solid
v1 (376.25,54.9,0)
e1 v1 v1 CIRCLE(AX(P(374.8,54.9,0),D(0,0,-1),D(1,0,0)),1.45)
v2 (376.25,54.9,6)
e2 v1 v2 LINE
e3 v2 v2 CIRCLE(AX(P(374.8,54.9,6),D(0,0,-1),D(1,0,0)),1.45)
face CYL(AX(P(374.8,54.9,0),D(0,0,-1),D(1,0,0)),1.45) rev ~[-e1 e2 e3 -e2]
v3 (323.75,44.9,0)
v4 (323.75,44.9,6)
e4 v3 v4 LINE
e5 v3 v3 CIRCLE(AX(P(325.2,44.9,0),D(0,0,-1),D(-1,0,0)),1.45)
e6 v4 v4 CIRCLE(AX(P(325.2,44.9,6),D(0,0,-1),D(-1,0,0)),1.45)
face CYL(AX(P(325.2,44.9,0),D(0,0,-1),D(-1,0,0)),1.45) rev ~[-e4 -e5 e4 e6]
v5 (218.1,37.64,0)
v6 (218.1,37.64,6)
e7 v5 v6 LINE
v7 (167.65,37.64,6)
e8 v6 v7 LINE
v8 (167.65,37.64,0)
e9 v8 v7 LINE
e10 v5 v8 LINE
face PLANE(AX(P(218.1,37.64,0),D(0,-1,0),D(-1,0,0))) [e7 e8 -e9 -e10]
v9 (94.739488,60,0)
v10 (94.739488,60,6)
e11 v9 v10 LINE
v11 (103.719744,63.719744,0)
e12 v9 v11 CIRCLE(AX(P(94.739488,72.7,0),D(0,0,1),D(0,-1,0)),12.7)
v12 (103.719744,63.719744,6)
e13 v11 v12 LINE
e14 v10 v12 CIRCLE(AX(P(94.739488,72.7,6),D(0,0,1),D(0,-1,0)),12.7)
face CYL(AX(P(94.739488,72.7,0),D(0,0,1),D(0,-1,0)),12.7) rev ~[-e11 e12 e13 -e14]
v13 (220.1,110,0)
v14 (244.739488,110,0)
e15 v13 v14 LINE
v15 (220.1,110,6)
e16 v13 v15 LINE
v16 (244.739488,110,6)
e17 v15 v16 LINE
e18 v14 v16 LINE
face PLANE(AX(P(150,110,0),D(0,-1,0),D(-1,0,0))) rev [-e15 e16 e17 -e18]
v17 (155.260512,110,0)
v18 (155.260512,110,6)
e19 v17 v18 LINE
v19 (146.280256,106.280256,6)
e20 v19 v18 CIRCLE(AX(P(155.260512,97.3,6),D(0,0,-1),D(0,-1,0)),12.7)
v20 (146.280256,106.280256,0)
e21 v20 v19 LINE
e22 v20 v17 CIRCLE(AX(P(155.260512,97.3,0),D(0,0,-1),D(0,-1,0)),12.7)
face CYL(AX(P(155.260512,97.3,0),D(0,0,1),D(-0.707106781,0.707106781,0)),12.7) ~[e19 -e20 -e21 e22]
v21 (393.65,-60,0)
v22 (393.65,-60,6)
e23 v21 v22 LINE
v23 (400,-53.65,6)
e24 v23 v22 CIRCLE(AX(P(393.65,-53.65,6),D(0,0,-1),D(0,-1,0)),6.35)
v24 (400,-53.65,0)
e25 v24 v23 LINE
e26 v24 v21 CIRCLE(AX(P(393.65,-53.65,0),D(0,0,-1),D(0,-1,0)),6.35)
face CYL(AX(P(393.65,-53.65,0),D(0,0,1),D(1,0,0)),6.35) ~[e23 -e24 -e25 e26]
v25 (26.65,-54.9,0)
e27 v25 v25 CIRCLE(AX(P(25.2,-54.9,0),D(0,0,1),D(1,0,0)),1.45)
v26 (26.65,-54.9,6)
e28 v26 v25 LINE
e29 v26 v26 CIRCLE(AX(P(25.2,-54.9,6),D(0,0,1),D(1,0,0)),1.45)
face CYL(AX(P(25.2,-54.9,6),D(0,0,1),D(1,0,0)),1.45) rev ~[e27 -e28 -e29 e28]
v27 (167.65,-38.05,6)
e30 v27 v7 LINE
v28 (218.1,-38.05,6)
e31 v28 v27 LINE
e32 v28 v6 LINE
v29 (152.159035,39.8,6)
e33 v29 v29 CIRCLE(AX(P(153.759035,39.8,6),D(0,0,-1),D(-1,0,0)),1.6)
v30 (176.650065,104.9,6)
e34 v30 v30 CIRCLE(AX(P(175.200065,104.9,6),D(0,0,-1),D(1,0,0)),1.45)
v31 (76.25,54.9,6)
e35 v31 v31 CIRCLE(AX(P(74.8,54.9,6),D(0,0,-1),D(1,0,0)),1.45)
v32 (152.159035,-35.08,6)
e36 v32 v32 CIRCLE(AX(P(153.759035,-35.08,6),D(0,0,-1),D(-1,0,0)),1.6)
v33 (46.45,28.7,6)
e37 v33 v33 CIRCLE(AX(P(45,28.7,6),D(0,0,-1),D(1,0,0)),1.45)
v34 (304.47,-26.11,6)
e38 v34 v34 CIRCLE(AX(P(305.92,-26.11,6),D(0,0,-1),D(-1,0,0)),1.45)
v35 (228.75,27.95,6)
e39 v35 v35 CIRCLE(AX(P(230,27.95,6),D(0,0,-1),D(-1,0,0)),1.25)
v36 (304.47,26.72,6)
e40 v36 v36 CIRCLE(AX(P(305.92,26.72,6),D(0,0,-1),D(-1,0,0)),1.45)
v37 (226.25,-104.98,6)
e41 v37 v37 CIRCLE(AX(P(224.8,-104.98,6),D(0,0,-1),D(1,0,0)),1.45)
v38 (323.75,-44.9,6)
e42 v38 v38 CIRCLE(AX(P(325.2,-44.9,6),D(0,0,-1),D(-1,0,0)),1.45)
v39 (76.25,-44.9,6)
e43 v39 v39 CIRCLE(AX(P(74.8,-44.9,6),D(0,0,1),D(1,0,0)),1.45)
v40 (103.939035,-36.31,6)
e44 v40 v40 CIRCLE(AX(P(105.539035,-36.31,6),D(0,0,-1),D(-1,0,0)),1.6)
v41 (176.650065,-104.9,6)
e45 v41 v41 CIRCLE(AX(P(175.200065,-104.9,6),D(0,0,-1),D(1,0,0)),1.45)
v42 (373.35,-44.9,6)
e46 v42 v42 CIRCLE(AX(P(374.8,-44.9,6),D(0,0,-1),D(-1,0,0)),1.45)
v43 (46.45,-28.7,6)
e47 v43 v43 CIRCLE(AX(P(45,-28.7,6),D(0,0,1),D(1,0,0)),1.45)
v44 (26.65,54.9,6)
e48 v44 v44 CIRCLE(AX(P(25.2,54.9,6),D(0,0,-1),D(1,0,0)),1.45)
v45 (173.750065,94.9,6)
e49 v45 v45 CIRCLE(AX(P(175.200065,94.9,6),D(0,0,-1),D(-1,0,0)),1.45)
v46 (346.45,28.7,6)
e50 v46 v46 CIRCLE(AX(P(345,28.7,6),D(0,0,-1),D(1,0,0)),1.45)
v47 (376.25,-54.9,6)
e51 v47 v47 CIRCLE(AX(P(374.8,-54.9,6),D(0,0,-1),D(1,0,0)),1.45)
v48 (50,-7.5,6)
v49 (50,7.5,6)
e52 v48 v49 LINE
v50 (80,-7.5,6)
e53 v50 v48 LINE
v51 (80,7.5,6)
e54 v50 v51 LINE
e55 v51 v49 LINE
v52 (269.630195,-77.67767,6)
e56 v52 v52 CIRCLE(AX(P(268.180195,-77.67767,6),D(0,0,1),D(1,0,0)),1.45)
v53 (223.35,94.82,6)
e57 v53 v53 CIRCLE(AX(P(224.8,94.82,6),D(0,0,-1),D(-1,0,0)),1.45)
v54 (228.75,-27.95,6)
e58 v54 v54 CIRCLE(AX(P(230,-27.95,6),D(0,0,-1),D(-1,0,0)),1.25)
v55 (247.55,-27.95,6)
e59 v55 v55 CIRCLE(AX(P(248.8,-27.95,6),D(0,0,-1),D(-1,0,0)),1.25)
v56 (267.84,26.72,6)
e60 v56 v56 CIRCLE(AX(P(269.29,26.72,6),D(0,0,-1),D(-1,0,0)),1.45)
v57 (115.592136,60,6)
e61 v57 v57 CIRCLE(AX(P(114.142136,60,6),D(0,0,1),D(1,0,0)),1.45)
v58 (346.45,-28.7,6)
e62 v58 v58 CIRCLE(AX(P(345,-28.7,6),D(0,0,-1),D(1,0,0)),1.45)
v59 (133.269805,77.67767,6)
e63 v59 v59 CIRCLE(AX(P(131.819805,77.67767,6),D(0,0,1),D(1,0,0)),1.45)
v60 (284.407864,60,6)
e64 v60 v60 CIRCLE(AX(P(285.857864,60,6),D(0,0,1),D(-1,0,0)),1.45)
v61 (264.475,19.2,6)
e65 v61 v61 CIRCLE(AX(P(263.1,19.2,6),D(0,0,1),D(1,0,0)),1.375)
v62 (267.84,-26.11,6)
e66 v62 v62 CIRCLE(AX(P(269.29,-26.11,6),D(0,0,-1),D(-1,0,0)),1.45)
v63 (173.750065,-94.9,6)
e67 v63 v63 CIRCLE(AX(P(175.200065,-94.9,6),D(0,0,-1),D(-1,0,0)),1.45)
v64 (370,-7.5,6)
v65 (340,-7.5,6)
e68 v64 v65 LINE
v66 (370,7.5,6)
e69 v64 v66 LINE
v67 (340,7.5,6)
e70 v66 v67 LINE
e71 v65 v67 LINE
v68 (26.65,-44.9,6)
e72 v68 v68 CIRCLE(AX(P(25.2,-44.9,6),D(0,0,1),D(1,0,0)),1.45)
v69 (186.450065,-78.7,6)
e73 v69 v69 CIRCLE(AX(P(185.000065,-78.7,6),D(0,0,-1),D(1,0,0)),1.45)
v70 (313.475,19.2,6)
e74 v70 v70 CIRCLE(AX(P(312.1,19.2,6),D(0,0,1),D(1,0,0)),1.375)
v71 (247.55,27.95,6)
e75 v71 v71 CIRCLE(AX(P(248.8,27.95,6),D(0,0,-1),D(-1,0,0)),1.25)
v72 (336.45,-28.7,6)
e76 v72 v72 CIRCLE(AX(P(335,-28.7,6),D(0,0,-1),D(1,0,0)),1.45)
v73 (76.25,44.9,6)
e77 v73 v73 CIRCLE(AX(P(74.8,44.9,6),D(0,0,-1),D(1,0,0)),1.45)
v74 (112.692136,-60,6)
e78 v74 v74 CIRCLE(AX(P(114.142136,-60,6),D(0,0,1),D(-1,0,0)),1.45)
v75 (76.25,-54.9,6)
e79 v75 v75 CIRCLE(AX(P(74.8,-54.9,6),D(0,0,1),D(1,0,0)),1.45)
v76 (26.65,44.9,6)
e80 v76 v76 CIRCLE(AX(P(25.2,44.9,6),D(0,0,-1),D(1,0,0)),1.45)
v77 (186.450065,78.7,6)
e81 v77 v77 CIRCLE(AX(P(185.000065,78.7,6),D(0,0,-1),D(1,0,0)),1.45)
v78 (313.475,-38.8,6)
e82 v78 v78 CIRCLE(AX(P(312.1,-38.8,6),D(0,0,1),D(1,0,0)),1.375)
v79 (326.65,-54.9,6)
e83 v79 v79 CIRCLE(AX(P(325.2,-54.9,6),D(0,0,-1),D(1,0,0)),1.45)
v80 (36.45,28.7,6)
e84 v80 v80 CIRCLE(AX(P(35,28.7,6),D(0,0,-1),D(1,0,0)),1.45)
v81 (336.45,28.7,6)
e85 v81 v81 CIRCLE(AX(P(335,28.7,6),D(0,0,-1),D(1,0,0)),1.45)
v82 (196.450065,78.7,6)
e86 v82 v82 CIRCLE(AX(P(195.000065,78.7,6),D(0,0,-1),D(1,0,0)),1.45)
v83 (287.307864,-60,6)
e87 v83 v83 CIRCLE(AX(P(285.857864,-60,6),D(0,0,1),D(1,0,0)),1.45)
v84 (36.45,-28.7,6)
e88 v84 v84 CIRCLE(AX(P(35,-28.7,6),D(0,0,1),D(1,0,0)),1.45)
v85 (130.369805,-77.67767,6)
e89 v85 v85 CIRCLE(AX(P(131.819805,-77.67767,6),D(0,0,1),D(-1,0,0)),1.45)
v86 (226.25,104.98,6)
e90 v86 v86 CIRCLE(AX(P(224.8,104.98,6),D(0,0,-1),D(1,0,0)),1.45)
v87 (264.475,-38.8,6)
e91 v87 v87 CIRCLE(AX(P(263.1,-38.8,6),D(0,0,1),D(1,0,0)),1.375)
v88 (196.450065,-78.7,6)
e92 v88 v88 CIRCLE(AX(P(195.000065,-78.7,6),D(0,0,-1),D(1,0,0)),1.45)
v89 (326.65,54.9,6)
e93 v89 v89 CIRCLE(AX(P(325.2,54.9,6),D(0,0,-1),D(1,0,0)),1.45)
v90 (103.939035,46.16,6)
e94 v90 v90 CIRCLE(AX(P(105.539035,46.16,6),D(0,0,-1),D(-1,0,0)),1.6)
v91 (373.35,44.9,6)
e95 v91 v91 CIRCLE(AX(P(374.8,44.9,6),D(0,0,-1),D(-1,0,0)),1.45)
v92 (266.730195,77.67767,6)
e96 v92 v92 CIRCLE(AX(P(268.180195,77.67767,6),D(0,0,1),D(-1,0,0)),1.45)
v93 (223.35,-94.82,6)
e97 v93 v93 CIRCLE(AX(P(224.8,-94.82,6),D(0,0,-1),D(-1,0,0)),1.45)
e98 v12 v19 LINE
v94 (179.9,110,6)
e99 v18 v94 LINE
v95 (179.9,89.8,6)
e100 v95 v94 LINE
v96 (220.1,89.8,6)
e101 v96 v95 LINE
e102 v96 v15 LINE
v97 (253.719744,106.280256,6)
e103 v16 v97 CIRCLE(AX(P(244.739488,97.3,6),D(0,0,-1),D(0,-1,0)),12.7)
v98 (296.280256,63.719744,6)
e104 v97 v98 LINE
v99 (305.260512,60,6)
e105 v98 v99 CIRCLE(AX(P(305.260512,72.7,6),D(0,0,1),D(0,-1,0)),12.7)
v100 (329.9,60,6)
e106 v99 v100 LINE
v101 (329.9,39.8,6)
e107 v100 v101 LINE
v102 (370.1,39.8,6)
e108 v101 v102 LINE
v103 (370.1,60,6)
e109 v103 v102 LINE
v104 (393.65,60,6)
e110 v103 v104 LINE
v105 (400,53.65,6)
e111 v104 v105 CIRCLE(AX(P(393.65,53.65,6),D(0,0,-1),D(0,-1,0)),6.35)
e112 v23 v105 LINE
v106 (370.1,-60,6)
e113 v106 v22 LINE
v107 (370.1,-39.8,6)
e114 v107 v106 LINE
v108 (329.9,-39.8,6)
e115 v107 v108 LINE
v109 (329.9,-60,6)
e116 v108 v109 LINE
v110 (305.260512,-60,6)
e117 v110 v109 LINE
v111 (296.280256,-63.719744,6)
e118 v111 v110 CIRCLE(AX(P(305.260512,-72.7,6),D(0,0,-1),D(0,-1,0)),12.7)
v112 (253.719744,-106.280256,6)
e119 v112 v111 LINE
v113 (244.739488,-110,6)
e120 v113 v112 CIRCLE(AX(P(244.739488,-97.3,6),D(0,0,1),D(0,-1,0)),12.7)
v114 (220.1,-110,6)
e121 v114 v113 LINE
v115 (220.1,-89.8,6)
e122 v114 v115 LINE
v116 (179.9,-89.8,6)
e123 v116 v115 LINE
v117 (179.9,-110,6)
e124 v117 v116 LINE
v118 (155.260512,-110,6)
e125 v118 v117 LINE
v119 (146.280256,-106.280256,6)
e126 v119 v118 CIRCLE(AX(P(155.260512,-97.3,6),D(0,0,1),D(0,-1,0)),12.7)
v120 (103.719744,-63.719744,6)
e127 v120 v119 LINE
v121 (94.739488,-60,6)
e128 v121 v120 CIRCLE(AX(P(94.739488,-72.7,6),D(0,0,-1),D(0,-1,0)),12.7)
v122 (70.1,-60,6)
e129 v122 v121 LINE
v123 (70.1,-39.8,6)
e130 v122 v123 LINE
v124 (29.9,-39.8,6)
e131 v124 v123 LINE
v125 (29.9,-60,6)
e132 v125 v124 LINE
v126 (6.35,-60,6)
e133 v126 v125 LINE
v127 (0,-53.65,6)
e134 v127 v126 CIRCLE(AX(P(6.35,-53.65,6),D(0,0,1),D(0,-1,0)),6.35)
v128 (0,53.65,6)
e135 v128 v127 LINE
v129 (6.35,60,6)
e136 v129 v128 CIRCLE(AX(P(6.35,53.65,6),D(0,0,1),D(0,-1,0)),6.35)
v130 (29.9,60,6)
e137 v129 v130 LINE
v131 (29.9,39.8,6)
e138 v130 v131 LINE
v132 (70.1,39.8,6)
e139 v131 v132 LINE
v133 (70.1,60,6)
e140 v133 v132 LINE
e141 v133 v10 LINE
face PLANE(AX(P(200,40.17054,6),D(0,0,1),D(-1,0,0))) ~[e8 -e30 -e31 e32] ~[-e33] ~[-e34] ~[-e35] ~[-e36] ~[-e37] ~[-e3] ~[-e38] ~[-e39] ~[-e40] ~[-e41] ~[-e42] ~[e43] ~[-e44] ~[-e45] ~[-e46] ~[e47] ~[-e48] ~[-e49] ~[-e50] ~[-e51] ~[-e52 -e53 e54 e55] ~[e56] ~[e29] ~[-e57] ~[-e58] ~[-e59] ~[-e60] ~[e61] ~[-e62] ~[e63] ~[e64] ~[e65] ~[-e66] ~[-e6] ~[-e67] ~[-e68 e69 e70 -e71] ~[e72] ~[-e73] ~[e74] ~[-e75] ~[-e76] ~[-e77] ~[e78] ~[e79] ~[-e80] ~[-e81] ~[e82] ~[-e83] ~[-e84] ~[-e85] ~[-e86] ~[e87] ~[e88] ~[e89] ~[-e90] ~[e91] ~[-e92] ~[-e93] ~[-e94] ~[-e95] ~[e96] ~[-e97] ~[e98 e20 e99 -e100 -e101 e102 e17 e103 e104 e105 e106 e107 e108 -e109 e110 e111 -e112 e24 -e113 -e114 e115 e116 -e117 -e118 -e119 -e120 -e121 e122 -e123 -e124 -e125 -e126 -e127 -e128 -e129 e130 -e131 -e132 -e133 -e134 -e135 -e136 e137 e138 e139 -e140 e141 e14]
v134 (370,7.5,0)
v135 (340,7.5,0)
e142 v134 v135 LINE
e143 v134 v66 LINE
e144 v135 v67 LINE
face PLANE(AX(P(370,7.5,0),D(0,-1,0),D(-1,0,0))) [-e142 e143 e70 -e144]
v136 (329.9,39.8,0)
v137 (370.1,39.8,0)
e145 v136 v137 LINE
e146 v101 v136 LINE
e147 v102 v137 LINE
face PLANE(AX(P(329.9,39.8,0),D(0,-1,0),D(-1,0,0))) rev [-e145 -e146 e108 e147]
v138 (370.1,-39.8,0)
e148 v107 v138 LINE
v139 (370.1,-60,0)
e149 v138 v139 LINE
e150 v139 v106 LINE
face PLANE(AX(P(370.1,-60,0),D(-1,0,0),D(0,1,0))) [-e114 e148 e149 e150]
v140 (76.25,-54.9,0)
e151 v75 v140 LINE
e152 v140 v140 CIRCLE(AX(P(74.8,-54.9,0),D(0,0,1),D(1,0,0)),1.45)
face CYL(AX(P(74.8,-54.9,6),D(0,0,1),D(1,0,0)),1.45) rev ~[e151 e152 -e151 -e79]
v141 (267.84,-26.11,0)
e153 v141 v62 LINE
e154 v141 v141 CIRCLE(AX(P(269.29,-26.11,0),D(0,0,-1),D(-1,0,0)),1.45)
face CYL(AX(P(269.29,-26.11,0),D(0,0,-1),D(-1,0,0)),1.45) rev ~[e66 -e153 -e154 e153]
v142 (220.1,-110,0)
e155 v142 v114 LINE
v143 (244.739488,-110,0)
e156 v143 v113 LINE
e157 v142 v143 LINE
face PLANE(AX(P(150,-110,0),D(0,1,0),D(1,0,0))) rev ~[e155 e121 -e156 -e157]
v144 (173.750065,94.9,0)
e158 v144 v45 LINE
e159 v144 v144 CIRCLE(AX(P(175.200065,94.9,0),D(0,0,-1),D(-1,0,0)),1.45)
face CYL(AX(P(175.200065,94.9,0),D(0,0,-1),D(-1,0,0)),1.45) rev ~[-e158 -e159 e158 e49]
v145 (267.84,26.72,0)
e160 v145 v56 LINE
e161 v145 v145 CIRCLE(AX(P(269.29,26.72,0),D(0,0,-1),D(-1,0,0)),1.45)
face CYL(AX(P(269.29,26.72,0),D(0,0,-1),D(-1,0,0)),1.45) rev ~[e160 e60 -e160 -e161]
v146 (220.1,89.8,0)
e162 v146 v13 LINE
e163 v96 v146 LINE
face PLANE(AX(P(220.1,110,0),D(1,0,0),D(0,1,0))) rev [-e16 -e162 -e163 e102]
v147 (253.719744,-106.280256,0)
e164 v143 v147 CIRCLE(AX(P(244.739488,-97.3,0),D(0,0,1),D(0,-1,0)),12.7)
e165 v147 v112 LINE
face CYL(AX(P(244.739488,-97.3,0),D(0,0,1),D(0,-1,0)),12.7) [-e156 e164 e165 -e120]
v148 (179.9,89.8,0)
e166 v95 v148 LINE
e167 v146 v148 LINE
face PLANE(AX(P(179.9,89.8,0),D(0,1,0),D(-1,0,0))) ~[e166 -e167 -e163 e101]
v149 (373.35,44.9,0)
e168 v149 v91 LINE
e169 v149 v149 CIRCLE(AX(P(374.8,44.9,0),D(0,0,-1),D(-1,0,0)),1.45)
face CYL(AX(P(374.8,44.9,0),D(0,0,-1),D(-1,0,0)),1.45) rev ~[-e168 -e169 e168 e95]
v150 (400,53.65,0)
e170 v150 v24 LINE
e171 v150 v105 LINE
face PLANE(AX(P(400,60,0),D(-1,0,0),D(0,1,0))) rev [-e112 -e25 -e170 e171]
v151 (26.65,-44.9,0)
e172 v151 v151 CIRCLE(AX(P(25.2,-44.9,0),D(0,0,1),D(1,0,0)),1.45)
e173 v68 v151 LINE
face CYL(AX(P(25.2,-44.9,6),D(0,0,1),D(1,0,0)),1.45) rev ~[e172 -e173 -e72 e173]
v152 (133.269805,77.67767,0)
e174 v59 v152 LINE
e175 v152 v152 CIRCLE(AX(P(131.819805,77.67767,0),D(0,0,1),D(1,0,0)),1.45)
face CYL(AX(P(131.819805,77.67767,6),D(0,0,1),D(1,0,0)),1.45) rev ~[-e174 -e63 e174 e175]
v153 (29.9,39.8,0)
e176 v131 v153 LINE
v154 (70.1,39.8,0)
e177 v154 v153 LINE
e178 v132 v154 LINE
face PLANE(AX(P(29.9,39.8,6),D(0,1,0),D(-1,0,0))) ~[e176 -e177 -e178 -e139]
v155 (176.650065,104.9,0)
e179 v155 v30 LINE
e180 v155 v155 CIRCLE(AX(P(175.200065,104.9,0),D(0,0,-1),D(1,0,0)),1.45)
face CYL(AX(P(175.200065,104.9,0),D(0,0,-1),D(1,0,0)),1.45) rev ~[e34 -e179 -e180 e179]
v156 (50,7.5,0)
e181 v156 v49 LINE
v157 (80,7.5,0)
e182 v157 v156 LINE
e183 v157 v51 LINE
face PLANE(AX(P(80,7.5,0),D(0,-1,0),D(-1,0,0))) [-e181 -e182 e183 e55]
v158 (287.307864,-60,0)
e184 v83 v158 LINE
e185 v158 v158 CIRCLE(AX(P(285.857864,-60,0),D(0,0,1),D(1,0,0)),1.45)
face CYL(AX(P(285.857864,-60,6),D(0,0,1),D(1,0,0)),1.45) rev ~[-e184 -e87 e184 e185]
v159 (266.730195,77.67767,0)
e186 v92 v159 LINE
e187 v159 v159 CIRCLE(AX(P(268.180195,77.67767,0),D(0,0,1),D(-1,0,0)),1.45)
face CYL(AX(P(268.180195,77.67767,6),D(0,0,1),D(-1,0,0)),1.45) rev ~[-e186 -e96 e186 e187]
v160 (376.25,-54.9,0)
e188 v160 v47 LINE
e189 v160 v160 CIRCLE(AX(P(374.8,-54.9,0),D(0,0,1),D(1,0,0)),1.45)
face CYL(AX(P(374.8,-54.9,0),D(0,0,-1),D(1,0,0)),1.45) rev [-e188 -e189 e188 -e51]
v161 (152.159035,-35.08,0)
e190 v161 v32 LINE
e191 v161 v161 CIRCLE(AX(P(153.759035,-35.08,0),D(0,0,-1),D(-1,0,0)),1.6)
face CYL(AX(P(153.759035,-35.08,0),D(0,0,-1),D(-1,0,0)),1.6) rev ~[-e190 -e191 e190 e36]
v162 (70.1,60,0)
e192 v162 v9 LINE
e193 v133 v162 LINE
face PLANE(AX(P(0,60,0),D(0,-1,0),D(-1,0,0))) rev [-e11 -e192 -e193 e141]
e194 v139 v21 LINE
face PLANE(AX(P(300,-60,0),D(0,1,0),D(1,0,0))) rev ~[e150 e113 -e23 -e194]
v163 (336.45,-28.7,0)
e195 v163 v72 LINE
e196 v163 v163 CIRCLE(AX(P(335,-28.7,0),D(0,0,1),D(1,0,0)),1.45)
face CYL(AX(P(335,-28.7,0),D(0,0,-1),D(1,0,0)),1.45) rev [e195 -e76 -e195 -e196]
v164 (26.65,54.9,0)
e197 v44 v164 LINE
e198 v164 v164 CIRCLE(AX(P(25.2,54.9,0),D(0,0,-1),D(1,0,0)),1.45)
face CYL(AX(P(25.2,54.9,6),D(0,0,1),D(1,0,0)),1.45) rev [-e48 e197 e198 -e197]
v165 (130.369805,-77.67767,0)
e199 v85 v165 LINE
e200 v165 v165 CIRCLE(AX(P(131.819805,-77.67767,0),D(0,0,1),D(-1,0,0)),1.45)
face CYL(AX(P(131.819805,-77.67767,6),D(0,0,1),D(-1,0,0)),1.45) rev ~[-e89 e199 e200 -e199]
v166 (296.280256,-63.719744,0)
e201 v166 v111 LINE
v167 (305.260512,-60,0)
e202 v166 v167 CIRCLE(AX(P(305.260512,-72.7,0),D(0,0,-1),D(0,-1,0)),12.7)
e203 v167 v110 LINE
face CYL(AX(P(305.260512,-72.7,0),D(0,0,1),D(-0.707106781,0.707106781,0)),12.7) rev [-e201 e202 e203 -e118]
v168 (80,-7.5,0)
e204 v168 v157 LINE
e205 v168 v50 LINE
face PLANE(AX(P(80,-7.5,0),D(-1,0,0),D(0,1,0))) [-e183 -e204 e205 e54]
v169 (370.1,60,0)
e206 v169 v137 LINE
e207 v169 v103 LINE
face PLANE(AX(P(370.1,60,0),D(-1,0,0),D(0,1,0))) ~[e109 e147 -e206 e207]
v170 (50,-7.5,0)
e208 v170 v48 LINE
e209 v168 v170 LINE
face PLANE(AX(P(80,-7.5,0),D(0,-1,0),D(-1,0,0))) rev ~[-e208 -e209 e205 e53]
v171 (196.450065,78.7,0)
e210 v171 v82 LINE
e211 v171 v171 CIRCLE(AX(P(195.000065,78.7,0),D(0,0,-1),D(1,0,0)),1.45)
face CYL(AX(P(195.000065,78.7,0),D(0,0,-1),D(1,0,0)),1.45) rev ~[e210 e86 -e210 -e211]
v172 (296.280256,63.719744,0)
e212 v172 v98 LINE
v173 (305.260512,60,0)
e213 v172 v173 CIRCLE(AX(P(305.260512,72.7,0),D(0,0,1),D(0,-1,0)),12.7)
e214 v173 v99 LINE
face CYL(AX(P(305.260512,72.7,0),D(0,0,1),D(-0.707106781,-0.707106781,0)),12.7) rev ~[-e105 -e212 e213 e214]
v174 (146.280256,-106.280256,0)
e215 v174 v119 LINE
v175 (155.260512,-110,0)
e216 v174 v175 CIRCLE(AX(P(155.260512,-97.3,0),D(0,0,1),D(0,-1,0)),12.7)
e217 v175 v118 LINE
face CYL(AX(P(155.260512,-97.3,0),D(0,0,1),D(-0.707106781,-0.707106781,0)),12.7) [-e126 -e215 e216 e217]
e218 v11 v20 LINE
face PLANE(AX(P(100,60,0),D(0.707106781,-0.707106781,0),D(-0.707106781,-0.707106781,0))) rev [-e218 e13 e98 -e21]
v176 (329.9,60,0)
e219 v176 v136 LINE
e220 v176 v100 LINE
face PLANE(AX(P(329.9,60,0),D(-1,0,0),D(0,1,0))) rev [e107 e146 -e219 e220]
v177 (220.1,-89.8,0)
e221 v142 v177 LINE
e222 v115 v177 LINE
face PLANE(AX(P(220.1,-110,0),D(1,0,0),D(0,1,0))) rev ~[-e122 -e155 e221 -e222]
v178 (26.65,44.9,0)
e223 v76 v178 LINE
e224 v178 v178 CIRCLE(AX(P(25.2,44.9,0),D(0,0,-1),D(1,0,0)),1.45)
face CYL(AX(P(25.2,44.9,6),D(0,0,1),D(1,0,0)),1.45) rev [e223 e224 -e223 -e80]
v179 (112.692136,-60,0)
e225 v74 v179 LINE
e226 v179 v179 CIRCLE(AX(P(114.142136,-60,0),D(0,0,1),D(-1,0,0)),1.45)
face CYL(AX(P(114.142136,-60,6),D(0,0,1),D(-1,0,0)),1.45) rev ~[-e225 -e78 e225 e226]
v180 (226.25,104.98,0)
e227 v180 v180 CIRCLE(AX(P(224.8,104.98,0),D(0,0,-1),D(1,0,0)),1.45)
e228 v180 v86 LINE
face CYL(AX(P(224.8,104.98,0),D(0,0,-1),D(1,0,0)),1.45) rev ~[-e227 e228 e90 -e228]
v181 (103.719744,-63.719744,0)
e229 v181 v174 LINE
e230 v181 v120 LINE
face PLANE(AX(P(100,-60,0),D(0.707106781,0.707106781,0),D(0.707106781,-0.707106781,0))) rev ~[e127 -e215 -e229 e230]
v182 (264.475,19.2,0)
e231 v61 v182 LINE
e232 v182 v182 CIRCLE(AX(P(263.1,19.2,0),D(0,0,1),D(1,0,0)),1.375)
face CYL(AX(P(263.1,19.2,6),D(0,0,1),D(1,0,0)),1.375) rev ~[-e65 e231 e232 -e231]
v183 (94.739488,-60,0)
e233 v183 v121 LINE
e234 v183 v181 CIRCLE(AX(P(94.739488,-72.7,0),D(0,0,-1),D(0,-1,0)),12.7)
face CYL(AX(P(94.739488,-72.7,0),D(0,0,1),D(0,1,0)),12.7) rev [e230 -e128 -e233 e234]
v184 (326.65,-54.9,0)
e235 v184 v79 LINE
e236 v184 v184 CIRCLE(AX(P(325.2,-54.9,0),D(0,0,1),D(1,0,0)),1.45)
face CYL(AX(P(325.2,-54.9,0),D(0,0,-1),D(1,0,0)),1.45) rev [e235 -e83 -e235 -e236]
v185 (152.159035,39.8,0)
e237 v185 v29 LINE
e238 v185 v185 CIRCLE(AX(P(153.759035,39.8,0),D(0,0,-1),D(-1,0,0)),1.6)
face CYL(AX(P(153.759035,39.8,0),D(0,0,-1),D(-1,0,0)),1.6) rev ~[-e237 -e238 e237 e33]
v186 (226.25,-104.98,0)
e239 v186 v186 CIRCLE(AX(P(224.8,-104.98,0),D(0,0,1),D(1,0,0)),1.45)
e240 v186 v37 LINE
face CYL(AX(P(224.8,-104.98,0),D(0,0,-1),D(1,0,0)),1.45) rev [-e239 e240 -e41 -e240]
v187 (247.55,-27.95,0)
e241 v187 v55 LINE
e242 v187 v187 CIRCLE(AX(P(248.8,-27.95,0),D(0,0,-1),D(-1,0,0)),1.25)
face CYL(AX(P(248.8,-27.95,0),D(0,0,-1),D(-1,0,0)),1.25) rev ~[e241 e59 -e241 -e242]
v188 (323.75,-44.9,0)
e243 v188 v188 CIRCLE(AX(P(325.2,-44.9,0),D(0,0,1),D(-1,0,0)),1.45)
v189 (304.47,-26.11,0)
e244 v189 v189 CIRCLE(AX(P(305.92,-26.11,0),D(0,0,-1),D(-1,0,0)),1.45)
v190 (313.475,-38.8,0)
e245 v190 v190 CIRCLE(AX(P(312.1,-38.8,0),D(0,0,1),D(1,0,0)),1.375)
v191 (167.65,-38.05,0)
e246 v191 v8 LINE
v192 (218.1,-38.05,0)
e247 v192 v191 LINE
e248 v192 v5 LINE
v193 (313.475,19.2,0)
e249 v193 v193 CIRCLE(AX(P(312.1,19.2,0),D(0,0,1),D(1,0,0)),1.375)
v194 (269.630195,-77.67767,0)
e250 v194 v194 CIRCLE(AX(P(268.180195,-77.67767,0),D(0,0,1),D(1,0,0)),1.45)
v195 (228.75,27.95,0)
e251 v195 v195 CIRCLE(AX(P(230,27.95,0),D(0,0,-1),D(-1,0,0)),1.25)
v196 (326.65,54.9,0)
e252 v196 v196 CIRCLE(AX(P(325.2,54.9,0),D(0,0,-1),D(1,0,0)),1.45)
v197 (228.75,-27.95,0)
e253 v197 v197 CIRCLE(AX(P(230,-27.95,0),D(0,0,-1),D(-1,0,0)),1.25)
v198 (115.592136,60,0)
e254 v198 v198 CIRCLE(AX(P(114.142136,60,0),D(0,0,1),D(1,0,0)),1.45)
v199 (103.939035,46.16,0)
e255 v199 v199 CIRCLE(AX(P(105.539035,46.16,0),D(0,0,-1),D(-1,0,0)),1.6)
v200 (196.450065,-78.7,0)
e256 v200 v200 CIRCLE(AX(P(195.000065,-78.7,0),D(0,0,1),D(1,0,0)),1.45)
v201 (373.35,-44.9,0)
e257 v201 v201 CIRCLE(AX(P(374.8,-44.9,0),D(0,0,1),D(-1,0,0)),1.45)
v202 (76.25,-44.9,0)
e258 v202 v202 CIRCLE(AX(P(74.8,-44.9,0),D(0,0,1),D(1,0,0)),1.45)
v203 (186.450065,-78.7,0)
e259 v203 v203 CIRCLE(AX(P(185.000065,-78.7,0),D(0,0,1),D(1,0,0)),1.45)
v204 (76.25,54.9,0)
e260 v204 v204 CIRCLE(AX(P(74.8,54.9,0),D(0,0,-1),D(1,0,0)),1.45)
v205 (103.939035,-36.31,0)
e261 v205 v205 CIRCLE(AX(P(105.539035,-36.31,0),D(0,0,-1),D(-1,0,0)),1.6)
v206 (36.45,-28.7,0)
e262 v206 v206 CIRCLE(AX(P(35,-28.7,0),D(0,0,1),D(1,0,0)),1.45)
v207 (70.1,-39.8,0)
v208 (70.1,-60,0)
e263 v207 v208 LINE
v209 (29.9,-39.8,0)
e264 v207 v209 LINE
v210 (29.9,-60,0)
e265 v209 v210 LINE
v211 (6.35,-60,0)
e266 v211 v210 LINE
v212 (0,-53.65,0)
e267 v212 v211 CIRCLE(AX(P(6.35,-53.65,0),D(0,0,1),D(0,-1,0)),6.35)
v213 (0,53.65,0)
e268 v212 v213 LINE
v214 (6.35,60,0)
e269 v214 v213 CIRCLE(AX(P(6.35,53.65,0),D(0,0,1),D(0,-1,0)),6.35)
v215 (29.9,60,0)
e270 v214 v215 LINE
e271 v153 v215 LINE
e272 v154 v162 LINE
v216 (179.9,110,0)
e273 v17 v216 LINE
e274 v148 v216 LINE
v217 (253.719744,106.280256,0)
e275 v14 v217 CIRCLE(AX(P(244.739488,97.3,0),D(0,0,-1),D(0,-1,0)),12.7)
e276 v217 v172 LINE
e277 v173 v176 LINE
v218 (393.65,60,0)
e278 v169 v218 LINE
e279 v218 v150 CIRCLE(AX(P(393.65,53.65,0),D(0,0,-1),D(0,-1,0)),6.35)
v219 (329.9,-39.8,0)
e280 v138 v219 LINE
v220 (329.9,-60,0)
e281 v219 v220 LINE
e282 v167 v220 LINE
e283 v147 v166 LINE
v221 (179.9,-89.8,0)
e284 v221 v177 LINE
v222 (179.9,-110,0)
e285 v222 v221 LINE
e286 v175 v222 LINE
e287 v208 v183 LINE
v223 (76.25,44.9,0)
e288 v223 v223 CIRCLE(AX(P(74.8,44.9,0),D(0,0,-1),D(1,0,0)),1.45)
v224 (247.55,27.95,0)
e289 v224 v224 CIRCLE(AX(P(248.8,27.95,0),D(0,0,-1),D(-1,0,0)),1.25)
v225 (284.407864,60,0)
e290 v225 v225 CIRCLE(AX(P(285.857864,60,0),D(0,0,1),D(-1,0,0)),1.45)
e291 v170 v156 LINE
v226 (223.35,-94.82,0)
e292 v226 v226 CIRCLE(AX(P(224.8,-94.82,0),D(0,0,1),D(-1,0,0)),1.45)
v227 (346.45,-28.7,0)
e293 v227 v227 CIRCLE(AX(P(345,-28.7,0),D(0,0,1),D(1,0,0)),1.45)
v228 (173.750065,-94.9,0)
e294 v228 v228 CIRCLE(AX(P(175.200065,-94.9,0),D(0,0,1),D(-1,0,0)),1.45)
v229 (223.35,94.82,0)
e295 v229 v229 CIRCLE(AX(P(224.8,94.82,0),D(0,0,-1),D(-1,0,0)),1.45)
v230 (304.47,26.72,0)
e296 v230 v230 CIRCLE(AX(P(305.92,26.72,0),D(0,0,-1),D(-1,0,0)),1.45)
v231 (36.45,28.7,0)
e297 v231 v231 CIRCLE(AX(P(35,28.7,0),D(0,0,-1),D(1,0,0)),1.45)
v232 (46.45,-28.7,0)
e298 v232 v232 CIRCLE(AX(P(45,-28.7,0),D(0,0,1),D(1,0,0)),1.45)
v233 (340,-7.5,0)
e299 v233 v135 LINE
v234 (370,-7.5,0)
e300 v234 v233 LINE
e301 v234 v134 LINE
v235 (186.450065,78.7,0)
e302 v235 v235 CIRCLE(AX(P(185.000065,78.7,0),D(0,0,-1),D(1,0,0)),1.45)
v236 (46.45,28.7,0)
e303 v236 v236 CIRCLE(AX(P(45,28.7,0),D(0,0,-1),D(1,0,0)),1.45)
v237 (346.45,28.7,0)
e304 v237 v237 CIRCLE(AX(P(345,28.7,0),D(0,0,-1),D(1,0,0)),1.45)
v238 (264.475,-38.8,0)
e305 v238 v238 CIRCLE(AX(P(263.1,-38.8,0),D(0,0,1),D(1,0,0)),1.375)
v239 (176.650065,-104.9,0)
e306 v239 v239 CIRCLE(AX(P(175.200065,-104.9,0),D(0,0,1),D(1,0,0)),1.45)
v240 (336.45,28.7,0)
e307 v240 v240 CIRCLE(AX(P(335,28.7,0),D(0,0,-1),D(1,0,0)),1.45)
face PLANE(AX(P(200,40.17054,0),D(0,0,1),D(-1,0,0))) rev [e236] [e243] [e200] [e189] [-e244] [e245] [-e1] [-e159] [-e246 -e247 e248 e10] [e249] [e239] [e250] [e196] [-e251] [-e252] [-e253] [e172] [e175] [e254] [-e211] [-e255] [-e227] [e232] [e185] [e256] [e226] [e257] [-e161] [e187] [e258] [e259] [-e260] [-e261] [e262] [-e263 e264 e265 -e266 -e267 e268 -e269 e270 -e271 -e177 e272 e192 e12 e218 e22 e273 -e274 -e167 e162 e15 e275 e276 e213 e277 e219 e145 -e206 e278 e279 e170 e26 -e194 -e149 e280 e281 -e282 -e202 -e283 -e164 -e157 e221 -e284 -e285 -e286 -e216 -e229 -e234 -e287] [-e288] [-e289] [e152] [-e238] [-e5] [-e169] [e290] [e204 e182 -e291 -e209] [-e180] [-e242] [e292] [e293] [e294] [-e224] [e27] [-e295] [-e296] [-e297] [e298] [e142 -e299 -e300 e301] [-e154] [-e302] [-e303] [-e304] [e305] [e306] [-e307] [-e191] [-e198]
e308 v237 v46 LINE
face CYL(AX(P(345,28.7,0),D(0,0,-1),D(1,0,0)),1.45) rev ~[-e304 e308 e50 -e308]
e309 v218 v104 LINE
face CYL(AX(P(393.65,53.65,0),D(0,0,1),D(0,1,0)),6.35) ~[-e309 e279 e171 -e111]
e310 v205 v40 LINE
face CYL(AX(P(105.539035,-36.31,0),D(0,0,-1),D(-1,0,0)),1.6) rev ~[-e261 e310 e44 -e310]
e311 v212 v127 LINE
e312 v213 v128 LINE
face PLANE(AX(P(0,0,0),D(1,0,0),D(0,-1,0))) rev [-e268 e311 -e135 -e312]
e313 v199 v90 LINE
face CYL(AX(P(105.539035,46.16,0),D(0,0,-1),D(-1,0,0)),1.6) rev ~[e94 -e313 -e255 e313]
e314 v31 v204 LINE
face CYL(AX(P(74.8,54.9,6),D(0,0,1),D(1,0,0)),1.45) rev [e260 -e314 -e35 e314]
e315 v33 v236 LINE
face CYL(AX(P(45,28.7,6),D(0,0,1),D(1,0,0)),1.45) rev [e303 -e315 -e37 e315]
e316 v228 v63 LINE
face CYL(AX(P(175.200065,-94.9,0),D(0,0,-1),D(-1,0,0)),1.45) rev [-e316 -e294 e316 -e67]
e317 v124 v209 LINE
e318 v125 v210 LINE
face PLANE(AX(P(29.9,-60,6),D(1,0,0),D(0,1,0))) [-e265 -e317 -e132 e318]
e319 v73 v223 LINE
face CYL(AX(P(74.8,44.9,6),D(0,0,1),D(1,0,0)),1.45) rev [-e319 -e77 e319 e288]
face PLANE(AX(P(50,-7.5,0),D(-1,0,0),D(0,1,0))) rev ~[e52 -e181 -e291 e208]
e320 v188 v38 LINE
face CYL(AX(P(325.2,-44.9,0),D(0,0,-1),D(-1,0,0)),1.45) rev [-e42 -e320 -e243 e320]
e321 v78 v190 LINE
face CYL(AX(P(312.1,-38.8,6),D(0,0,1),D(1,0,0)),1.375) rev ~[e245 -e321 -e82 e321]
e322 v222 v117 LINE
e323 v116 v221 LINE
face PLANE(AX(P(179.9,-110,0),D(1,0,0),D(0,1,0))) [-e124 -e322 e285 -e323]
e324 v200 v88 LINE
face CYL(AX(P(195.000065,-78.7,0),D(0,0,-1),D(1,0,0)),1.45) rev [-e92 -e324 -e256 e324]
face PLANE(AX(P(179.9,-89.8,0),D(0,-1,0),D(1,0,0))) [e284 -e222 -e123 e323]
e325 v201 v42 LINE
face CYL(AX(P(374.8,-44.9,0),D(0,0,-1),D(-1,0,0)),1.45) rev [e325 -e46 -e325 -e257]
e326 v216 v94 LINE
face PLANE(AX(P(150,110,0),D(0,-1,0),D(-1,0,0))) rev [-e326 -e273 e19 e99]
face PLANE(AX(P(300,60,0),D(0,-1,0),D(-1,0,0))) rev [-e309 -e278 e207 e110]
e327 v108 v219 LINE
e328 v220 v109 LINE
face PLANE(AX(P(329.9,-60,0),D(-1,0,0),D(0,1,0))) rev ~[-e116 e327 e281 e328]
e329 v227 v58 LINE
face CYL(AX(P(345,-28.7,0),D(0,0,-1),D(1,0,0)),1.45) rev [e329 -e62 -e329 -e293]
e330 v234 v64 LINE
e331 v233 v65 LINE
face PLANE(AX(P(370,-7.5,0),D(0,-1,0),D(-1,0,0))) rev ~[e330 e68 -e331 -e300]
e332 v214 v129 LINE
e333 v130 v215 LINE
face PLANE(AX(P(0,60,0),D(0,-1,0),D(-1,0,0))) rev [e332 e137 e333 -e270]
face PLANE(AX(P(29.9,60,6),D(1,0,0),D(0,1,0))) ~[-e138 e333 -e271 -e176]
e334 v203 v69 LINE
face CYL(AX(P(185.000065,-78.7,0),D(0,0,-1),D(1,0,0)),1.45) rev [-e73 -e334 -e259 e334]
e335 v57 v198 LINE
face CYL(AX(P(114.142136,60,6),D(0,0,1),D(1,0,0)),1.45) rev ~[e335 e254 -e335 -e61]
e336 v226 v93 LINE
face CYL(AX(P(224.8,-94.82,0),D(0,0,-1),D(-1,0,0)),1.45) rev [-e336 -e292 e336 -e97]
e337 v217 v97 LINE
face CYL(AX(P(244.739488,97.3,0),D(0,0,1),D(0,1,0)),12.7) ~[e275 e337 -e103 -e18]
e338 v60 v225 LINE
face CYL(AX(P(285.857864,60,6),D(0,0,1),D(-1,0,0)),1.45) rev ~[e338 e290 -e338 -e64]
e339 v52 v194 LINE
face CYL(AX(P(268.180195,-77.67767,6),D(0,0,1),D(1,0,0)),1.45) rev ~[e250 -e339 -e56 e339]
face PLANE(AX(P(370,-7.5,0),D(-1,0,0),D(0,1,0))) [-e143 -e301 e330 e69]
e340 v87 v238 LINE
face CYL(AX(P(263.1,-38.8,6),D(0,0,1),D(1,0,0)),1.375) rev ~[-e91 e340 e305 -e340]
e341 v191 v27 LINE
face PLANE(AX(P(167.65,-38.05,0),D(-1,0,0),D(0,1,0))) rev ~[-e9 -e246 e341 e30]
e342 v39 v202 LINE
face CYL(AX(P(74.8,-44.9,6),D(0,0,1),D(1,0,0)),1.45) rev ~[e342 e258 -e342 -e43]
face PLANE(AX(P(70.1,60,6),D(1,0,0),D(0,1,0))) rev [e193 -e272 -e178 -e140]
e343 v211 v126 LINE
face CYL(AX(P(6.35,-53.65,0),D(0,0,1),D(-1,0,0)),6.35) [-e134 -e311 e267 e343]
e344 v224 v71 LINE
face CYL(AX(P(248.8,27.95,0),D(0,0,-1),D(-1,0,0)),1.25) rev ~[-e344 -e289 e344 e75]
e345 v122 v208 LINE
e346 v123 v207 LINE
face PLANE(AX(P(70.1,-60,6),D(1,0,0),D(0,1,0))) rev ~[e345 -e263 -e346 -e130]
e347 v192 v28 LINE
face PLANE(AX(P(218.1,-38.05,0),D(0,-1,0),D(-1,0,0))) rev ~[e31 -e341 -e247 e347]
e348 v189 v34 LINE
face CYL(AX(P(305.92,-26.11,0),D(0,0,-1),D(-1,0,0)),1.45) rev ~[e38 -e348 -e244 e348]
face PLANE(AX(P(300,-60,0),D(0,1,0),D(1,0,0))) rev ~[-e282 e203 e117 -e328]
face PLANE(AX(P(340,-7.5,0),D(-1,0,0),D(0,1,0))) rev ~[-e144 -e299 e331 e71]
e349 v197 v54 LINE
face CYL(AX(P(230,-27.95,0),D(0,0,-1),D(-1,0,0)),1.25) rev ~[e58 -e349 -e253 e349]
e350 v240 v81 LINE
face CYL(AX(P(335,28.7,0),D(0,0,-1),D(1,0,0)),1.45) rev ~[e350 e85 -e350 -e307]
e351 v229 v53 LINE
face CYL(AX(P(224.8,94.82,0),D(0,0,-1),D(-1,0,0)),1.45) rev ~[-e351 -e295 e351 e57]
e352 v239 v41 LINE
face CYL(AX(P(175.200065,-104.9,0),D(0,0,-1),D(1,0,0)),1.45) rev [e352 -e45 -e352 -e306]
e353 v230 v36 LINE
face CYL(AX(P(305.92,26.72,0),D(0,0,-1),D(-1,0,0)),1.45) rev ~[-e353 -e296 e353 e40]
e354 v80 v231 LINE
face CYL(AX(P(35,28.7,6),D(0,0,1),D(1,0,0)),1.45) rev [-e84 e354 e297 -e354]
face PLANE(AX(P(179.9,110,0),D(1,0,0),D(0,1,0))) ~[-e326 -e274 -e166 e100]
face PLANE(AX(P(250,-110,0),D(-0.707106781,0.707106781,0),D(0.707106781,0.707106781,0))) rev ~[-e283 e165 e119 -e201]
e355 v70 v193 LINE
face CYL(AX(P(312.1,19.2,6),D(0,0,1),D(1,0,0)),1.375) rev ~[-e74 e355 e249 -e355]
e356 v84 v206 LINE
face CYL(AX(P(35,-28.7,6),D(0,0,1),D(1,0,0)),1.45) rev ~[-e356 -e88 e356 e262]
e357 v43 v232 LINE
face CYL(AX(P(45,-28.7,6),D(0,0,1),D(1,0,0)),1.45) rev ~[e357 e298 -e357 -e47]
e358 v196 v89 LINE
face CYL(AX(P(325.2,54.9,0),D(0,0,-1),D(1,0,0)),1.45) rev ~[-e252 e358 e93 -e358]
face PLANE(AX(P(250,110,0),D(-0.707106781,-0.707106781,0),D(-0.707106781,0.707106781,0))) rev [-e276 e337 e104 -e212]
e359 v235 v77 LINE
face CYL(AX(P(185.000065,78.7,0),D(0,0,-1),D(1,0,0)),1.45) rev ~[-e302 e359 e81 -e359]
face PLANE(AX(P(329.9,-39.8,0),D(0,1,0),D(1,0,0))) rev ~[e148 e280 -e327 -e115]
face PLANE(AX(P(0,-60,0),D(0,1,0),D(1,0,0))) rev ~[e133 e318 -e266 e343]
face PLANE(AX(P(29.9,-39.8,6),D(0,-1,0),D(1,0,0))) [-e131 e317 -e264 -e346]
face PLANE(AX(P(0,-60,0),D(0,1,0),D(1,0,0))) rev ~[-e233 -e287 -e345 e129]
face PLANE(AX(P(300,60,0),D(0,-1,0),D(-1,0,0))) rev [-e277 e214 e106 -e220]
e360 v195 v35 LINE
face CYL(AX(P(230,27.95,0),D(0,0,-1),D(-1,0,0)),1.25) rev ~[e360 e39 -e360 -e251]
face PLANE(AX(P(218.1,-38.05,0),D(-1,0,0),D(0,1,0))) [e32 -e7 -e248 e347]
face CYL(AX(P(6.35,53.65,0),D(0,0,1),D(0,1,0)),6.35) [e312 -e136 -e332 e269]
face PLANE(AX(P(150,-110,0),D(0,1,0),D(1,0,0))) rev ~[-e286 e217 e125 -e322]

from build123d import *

# Parameters (mm, degrees)
BOSS_EXTRU_1_DEPTH       = 6
ENL_V_MAT_EXTRU_1_REACH  = 416.893
ESQUISSE2_W              = 40.2
ESQUISSE2_H              = 20.2
ENL_V_MAT_EXTRU_2_REACH  = 416.893
ESQUISSE3_R              = 1.45
SKETCH2_W                = 40.2
SKETCH2_H                = 20.2
CUT_EXTRUDE2_DEPTH       = 415.892757228
SKETCH5_R                = 1.45
CUT_EXTRUDE4_DEPTH       = 415.892757228
ESQUISSE4_R              = 1.375
ENL_V_MAT_EXTRU_4_DEPTH  = 415.892757228
ESQUISSE6_R              = 1.45
ENL_V_MAT_EXTRU_6_DEPTH  = 415.892757228
ESQUISSE8_R              = 1.25
ENL_V_MAT_EXTRU_7_DEPTH  = 415.892757228
ESQUISSE9_R              = 1.6
ENL_V_MAT_EXTRU_8_DEPTH  = 415.892757228
ESQUISSE10_W             = 50.45
ESQUISSE10_H             = 75.69
ENL_V_MAT_EXTRU_9_DEPTH  = 415.892757228
ESQUISSE11_W             = 30
ESQUISSE11_H             = 15
ENL_V_MAT_EXTRU_10_DEPTH = 415.892757228
ESQUISSE12_R             = 1.45
ENL_V_MAT_EXTRU_11_DEPTH = 415.892757228
FILLET1_R                = 6.35
FILLET2_R                = 12.7


with BuildPart() as part:
    # Esquisse1 → Boss.-Extru.1 (new body)
    with BuildSketch(Plane.XY):
        Polygon((100, -60), (150, -110), (250, -110), (300, -60), (400, -60), (400, 0), (25.838605695, 0), (0, 0), (0, -60), align=None)
    boss_extru_1 = extrude(amount=BOSS_EXTRU_1_DEPTH)

    # Esquisse2 → Enlèv. mat.-Extru.1 (cut, up to next)
    with BuildSketch(Plane.XY.offset(6), mode=Mode.PRIVATE) as enl_v_mat_extru_1_sk1:
        with Locations((50, -49.9)):
            Rectangle(ESQUISSE2_W, ESQUISSE2_H)
    enl_v_mat_extru_1_tool1 = extrude(enl_v_mat_extru_1_sk1.sketch, amount=-ENL_V_MAT_EXTRU_1_REACH, mode=Mode.PRIVATE) & part.part
    enl_v_mat_extru_1 = enl_v_mat_extru_1_tool1.solids().sort_by_distance((50, -49.9, 6))[0]
    add(enl_v_mat_extru_1, mode=Mode.SUBTRACT)

    # Esquisse3 → Enlèv. mat.-Extru.2 (cut, up to next)
    with BuildSketch(Plane.XY.offset(6), mode=Mode.PRIVATE) as enl_v_mat_extru_2_sk1:
        with Locations((25.2, -54.9)):
            Circle(ESQUISSE3_R)
    enl_v_mat_extru_2_tool1 = extrude(enl_v_mat_extru_2_sk1.sketch, amount=-ENL_V_MAT_EXTRU_2_REACH, mode=Mode.PRIVATE) & part.part
    # Esquisse3 → Enlèv. mat.-Extru.2 (cut, up to next)
    with BuildSketch(Plane.XY.offset(6), mode=Mode.PRIVATE) as enl_v_mat_extru_2_sk2:
        with Locations((74.8, -54.9)):
            Circle(ESQUISSE3_R)
    enl_v_mat_extru_2_tool2 = extrude(enl_v_mat_extru_2_sk2.sketch, amount=-ENL_V_MAT_EXTRU_2_REACH, mode=Mode.PRIVATE) & part.part
    # Esquisse3 → Enlèv. mat.-Extru.2 (cut, up to next)
    with BuildSketch(Plane.XY.offset(6), mode=Mode.PRIVATE) as enl_v_mat_extru_2_sk3:
        with Locations((74.8, -44.9)):
            Circle(ESQUISSE3_R)
    enl_v_mat_extru_2_tool3 = extrude(enl_v_mat_extru_2_sk3.sketch, amount=-ENL_V_MAT_EXTRU_2_REACH, mode=Mode.PRIVATE) & part.part
    # Esquisse3 → Enlèv. mat.-Extru.2 (cut, up to next)
    with BuildSketch(Plane.XY.offset(6), mode=Mode.PRIVATE) as enl_v_mat_extru_2_sk4:
        with Locations((25.2, -44.9)):
            Circle(ESQUISSE3_R)
    enl_v_mat_extru_2_tool4 = extrude(enl_v_mat_extru_2_sk4.sketch, amount=-ENL_V_MAT_EXTRU_2_REACH, mode=Mode.PRIVATE) & part.part
    # Esquisse3 → Enlèv. mat.-Extru.2 (cut, up to next)
    with BuildSketch(Plane.XY.offset(6), mode=Mode.PRIVATE) as enl_v_mat_extru_2_sk5:
        with Locations((35, -28.7)):
            Circle(ESQUISSE3_R)
    enl_v_mat_extru_2_tool5 = extrude(enl_v_mat_extru_2_sk5.sketch, amount=-ENL_V_MAT_EXTRU_2_REACH, mode=Mode.PRIVATE) & part.part
    # Esquisse3 → Enlèv. mat.-Extru.2 (cut, up to next)
    with BuildSketch(Plane.XY.offset(6), mode=Mode.PRIVATE) as enl_v_mat_extru_2_sk6:
        with Locations((45, -28.7)):
            Circle(ESQUISSE3_R)
    enl_v_mat_extru_2_tool6 = extrude(enl_v_mat_extru_2_sk6.sketch, amount=-ENL_V_MAT_EXTRU_2_REACH, mode=Mode.PRIVATE) & part.part
    enl_v_mat_extru_2_1 = enl_v_mat_extru_2_tool1.solids().sort_by_distance((25.2, -54.9, 6))[0]
    add(enl_v_mat_extru_2_1, mode=Mode.SUBTRACT)
    enl_v_mat_extru_2_2 = enl_v_mat_extru_2_tool2.solids().sort_by_distance((74.8, -54.9, 6))[0]
    add(enl_v_mat_extru_2_2, mode=Mode.SUBTRACT)
    enl_v_mat_extru_2_3 = enl_v_mat_extru_2_tool3.solids().sort_by_distance((74.8, -44.9, 6))[0]
    add(enl_v_mat_extru_2_3, mode=Mode.SUBTRACT)
    enl_v_mat_extru_2_4 = enl_v_mat_extru_2_tool4.solids().sort_by_distance((25.2, -44.9, 6))[0]
    add(enl_v_mat_extru_2_4, mode=Mode.SUBTRACT)
    enl_v_mat_extru_2_5 = enl_v_mat_extru_2_tool5.solids().sort_by_distance((35, -28.7, 6))[0]
    add(enl_v_mat_extru_2_5, mode=Mode.SUBTRACT)
    enl_v_mat_extru_2_6 = enl_v_mat_extru_2_tool6.solids().sort_by_distance((45, -28.7, 6))[0]
    add(enl_v_mat_extru_2_6, mode=Mode.SUBTRACT)
    enl_v_mat_extru_2 = enl_v_mat_extru_2_1 + enl_v_mat_extru_2_2 + enl_v_mat_extru_2_3 + enl_v_mat_extru_2_4 + enl_v_mat_extru_2_5 + enl_v_mat_extru_2_6  # Enlèv. mat.-Extru.2 as one shape, for the pattern or mirror that repeats it

    # Sketch2 → Cut-Extrude2 (cut, symmetric)
    with BuildSketch(Plane.XY):
        with Locations((350, -49.9)):
            Rectangle(SKETCH2_W, SKETCH2_H)
        with Locations((200, -99.9)):
            Rectangle(SKETCH2_W, SKETCH2_H)
    cut_extrude2 = extrude(amount=CUT_EXTRUDE2_DEPTH, both=True, mode=Mode.SUBTRACT)

    # Sketch5 → Cut-Extrude4 (cut, through all)
    with BuildSketch(Plane.XY):
        with Locations((175.200064516, -104.9)):
            Circle(SKETCH5_R)
        with Locations((224.8, -104.98)):
            Circle(SKETCH5_R)
        with Locations(Location((224.8, -94.82, 0), (0, 0, 180))):
            Circle(SKETCH5_R)
        with Locations(Location((175.200064516, -94.9, 0), (0, 0, 180))):
            Circle(SKETCH5_R)
        with Locations((325.2, -54.9)):
            Circle(SKETCH5_R)
        with Locations((374.8, -54.9)):
            Circle(SKETCH5_R)
        with Locations(Location((374.8, -44.9, 0), (0, 0, 180))):
            Circle(SKETCH5_R)
        with Locations(Location((325.2, -44.9, 0), (0, 0, 180))):
            Circle(SKETCH5_R)
        with Locations((185.000064516, -78.7)):
            Circle(SKETCH5_R)
        with Locations((195.000064516, -78.7)):
            Circle(SKETCH5_R)
        with Locations((335, -28.7)):
            Circle(SKETCH5_R)
        with Locations((345, -28.7)):
            Circle(SKETCH5_R)
    cut_extrude4 = extrude(amount=CUT_EXTRUDE4_DEPTH, mode=Mode.SUBTRACT)

    # Mirror1: Boss.-Extru.1, Enlèv. mat.-Extru.1, Enlèv. mat.-Extru.2, Cut-Extrude2, Cut-Extrude4 across plane
    add(boss_extru_1.mirror(Plane.ZX))
    add(enl_v_mat_extru_1.mirror(Plane.ZX), mode=Mode.SUBTRACT)
    add(enl_v_mat_extru_2.mirror(Plane.ZX), mode=Mode.SUBTRACT)
    add(cut_extrude2.mirror(Plane.ZX), mode=Mode.SUBTRACT)
    add(cut_extrude4.mirror(Plane.ZX), mode=Mode.SUBTRACT)

    # Esquisse4 → Enlèv. mat.-Extru.4 (cut, through all)
    with BuildSketch(Plane.XY.offset(6)):
        with Locations((263.1, -38.8)):
            Circle(ESQUISSE4_R)
        with Locations((312.1, -38.8)):
            Circle(ESQUISSE4_R)
        with Locations((312.1, 19.2)):
            Circle(ESQUISSE4_R)
        with Locations((263.1, 19.2)):
            Circle(ESQUISSE4_R)
    extrude(amount=-ENL_V_MAT_EXTRU_4_DEPTH, mode=Mode.SUBTRACT)

    # Esquisse6 → Enlèv. mat.-Extru.6 (cut, through all)
    with BuildSketch(Plane(origin=(0, 0, 0), x_dir=(-1, 0, 0), z_dir=(0, 0, -1))):
        with Locations((-269.29, -26.11)):
            Circle(ESQUISSE6_R)
        with Locations((-305.92, -26.11)):
            Circle(ESQUISSE6_R)
        with Locations((-305.92, 26.72)):
            Circle(ESQUISSE6_R)
        with Locations((-269.29, 26.72)):
            Circle(ESQUISSE6_R)
    extrude(amount=-ENL_V_MAT_EXTRU_6_DEPTH, mode=Mode.SUBTRACT)

    # Esquisse8 → Enlèv. mat.-Extru.7 (cut, through all)
    with BuildSketch(Plane(origin=(0, 0, 0), x_dir=(-1, 0, 0), z_dir=(0, 0, -1))):
        with Locations((-230, 27.95)):
            Circle(ESQUISSE8_R)
        with Locations((-248.8, 27.95)):
            Circle(ESQUISSE8_R)
        with Locations((-248.8, -27.95)):
            Circle(ESQUISSE8_R)
        with Locations((-230, -27.95)):
            Circle(ESQUISSE8_R)
    extrude(amount=-ENL_V_MAT_EXTRU_7_DEPTH, mode=Mode.SUBTRACT)

    # Esquisse9 → Enlèv. mat.-Extru.8 (cut, through all)
    with BuildSketch(Plane(origin=(0, 0, 0), x_dir=(-1, 0, 0), z_dir=(0, 0, -1))):
        with Locations((-153.75903462, -35.08)):
            Circle(ESQUISSE9_R)
        with Locations((-105.53903462, -36.31)):
            Circle(ESQUISSE9_R)
        with Locations((-105.53903462, 46.16)):
            Circle(ESQUISSE9_R)
        with Locations((-153.75903462, 39.8)):
            Circle(ESQUISSE9_R)
    extrude(amount=-ENL_V_MAT_EXTRU_8_DEPTH, mode=Mode.SUBTRACT)

    # Esquisse10 → Enlèv. mat.-Extru.9 (cut, through all)
    with BuildSketch(Plane(origin=(0, 0, 0), x_dir=(-1, 0, 0), z_dir=(0, 0, -1))):
        with Locations((-192.875, -0.205)):
            Rectangle(ESQUISSE10_W, ESQUISSE10_H)
    extrude(amount=-ENL_V_MAT_EXTRU_9_DEPTH, mode=Mode.SUBTRACT)

    # Esquisse11 → Enlèv. mat.-Extru.10 (cut, through all)
    with BuildSketch(Plane(origin=(0, 0, 0), x_dir=(-1, 0, 0), z_dir=(0, 0, -1))):
        with Locations((-355, 0)):
            Rectangle(ESQUISSE11_W, ESQUISSE11_H)
        with Locations((-65, 0)):
            Rectangle(ESQUISSE11_W, ESQUISSE11_H)
    extrude(amount=-ENL_V_MAT_EXTRU_10_DEPTH, mode=Mode.SUBTRACT)

    # Esquisse12 → Enlèv. mat.-Extru.11 (cut, through all)
    with BuildSketch(Plane.XY.offset(6)):
        with Locations((131.819805153, 77.67766953)):
            Circle(ESQUISSE12_R)
        with Locations((114.142135624, 60)):
            Circle(ESQUISSE12_R)
        with Locations(Location((285.857864376, 60, 0), (0, 0, 180))):
            Circle(ESQUISSE12_R)
        with Locations(Location((268.180194847, 77.67766953, 0), (0, 0, 180))):
            Circle(ESQUISSE12_R)
        with Locations((285.857864376, -60)):
            Circle(ESQUISSE12_R)
        with Locations((268.180194847, -77.67766953)):
            Circle(ESQUISSE12_R)
        with Locations(Location((131.819805153, -77.67766953, 0), (0, 0, 180))):
            Circle(ESQUISSE12_R)
        with Locations(Location((114.142135624, -60, 0), (0, 0, 180))):
            Circle(ESQUISSE12_R)
    extrude(amount=-ENL_V_MAT_EXTRU_11_DEPTH, mode=Mode.SUBTRACT)

    # Fillet1
    fillet1_edges = [part.edges().sort_by_distance(p)[0] for p in [
        (0, 60, 3),
        (400, 60, 3),
        (0, -60, 3),
        (400, -60, 3),
    ]]
    fillet(fillet1_edges, radius=FILLET1_R)

    # Fillet2
    fillet2_edges = [part.edges().sort_by_distance(p)[0] for p in [
        (100, 60, 3),
        (300, 60, 3),
        (250, 110, 3),
        (150, 110, 3),
        (300, -60, 3),
        (250, -110, 3),
        (150, -110, 3),
        (100, -60, 3),
    ]]
    fillet(fillet2_edges, radius=FILLET2_R)


solid = part.part
